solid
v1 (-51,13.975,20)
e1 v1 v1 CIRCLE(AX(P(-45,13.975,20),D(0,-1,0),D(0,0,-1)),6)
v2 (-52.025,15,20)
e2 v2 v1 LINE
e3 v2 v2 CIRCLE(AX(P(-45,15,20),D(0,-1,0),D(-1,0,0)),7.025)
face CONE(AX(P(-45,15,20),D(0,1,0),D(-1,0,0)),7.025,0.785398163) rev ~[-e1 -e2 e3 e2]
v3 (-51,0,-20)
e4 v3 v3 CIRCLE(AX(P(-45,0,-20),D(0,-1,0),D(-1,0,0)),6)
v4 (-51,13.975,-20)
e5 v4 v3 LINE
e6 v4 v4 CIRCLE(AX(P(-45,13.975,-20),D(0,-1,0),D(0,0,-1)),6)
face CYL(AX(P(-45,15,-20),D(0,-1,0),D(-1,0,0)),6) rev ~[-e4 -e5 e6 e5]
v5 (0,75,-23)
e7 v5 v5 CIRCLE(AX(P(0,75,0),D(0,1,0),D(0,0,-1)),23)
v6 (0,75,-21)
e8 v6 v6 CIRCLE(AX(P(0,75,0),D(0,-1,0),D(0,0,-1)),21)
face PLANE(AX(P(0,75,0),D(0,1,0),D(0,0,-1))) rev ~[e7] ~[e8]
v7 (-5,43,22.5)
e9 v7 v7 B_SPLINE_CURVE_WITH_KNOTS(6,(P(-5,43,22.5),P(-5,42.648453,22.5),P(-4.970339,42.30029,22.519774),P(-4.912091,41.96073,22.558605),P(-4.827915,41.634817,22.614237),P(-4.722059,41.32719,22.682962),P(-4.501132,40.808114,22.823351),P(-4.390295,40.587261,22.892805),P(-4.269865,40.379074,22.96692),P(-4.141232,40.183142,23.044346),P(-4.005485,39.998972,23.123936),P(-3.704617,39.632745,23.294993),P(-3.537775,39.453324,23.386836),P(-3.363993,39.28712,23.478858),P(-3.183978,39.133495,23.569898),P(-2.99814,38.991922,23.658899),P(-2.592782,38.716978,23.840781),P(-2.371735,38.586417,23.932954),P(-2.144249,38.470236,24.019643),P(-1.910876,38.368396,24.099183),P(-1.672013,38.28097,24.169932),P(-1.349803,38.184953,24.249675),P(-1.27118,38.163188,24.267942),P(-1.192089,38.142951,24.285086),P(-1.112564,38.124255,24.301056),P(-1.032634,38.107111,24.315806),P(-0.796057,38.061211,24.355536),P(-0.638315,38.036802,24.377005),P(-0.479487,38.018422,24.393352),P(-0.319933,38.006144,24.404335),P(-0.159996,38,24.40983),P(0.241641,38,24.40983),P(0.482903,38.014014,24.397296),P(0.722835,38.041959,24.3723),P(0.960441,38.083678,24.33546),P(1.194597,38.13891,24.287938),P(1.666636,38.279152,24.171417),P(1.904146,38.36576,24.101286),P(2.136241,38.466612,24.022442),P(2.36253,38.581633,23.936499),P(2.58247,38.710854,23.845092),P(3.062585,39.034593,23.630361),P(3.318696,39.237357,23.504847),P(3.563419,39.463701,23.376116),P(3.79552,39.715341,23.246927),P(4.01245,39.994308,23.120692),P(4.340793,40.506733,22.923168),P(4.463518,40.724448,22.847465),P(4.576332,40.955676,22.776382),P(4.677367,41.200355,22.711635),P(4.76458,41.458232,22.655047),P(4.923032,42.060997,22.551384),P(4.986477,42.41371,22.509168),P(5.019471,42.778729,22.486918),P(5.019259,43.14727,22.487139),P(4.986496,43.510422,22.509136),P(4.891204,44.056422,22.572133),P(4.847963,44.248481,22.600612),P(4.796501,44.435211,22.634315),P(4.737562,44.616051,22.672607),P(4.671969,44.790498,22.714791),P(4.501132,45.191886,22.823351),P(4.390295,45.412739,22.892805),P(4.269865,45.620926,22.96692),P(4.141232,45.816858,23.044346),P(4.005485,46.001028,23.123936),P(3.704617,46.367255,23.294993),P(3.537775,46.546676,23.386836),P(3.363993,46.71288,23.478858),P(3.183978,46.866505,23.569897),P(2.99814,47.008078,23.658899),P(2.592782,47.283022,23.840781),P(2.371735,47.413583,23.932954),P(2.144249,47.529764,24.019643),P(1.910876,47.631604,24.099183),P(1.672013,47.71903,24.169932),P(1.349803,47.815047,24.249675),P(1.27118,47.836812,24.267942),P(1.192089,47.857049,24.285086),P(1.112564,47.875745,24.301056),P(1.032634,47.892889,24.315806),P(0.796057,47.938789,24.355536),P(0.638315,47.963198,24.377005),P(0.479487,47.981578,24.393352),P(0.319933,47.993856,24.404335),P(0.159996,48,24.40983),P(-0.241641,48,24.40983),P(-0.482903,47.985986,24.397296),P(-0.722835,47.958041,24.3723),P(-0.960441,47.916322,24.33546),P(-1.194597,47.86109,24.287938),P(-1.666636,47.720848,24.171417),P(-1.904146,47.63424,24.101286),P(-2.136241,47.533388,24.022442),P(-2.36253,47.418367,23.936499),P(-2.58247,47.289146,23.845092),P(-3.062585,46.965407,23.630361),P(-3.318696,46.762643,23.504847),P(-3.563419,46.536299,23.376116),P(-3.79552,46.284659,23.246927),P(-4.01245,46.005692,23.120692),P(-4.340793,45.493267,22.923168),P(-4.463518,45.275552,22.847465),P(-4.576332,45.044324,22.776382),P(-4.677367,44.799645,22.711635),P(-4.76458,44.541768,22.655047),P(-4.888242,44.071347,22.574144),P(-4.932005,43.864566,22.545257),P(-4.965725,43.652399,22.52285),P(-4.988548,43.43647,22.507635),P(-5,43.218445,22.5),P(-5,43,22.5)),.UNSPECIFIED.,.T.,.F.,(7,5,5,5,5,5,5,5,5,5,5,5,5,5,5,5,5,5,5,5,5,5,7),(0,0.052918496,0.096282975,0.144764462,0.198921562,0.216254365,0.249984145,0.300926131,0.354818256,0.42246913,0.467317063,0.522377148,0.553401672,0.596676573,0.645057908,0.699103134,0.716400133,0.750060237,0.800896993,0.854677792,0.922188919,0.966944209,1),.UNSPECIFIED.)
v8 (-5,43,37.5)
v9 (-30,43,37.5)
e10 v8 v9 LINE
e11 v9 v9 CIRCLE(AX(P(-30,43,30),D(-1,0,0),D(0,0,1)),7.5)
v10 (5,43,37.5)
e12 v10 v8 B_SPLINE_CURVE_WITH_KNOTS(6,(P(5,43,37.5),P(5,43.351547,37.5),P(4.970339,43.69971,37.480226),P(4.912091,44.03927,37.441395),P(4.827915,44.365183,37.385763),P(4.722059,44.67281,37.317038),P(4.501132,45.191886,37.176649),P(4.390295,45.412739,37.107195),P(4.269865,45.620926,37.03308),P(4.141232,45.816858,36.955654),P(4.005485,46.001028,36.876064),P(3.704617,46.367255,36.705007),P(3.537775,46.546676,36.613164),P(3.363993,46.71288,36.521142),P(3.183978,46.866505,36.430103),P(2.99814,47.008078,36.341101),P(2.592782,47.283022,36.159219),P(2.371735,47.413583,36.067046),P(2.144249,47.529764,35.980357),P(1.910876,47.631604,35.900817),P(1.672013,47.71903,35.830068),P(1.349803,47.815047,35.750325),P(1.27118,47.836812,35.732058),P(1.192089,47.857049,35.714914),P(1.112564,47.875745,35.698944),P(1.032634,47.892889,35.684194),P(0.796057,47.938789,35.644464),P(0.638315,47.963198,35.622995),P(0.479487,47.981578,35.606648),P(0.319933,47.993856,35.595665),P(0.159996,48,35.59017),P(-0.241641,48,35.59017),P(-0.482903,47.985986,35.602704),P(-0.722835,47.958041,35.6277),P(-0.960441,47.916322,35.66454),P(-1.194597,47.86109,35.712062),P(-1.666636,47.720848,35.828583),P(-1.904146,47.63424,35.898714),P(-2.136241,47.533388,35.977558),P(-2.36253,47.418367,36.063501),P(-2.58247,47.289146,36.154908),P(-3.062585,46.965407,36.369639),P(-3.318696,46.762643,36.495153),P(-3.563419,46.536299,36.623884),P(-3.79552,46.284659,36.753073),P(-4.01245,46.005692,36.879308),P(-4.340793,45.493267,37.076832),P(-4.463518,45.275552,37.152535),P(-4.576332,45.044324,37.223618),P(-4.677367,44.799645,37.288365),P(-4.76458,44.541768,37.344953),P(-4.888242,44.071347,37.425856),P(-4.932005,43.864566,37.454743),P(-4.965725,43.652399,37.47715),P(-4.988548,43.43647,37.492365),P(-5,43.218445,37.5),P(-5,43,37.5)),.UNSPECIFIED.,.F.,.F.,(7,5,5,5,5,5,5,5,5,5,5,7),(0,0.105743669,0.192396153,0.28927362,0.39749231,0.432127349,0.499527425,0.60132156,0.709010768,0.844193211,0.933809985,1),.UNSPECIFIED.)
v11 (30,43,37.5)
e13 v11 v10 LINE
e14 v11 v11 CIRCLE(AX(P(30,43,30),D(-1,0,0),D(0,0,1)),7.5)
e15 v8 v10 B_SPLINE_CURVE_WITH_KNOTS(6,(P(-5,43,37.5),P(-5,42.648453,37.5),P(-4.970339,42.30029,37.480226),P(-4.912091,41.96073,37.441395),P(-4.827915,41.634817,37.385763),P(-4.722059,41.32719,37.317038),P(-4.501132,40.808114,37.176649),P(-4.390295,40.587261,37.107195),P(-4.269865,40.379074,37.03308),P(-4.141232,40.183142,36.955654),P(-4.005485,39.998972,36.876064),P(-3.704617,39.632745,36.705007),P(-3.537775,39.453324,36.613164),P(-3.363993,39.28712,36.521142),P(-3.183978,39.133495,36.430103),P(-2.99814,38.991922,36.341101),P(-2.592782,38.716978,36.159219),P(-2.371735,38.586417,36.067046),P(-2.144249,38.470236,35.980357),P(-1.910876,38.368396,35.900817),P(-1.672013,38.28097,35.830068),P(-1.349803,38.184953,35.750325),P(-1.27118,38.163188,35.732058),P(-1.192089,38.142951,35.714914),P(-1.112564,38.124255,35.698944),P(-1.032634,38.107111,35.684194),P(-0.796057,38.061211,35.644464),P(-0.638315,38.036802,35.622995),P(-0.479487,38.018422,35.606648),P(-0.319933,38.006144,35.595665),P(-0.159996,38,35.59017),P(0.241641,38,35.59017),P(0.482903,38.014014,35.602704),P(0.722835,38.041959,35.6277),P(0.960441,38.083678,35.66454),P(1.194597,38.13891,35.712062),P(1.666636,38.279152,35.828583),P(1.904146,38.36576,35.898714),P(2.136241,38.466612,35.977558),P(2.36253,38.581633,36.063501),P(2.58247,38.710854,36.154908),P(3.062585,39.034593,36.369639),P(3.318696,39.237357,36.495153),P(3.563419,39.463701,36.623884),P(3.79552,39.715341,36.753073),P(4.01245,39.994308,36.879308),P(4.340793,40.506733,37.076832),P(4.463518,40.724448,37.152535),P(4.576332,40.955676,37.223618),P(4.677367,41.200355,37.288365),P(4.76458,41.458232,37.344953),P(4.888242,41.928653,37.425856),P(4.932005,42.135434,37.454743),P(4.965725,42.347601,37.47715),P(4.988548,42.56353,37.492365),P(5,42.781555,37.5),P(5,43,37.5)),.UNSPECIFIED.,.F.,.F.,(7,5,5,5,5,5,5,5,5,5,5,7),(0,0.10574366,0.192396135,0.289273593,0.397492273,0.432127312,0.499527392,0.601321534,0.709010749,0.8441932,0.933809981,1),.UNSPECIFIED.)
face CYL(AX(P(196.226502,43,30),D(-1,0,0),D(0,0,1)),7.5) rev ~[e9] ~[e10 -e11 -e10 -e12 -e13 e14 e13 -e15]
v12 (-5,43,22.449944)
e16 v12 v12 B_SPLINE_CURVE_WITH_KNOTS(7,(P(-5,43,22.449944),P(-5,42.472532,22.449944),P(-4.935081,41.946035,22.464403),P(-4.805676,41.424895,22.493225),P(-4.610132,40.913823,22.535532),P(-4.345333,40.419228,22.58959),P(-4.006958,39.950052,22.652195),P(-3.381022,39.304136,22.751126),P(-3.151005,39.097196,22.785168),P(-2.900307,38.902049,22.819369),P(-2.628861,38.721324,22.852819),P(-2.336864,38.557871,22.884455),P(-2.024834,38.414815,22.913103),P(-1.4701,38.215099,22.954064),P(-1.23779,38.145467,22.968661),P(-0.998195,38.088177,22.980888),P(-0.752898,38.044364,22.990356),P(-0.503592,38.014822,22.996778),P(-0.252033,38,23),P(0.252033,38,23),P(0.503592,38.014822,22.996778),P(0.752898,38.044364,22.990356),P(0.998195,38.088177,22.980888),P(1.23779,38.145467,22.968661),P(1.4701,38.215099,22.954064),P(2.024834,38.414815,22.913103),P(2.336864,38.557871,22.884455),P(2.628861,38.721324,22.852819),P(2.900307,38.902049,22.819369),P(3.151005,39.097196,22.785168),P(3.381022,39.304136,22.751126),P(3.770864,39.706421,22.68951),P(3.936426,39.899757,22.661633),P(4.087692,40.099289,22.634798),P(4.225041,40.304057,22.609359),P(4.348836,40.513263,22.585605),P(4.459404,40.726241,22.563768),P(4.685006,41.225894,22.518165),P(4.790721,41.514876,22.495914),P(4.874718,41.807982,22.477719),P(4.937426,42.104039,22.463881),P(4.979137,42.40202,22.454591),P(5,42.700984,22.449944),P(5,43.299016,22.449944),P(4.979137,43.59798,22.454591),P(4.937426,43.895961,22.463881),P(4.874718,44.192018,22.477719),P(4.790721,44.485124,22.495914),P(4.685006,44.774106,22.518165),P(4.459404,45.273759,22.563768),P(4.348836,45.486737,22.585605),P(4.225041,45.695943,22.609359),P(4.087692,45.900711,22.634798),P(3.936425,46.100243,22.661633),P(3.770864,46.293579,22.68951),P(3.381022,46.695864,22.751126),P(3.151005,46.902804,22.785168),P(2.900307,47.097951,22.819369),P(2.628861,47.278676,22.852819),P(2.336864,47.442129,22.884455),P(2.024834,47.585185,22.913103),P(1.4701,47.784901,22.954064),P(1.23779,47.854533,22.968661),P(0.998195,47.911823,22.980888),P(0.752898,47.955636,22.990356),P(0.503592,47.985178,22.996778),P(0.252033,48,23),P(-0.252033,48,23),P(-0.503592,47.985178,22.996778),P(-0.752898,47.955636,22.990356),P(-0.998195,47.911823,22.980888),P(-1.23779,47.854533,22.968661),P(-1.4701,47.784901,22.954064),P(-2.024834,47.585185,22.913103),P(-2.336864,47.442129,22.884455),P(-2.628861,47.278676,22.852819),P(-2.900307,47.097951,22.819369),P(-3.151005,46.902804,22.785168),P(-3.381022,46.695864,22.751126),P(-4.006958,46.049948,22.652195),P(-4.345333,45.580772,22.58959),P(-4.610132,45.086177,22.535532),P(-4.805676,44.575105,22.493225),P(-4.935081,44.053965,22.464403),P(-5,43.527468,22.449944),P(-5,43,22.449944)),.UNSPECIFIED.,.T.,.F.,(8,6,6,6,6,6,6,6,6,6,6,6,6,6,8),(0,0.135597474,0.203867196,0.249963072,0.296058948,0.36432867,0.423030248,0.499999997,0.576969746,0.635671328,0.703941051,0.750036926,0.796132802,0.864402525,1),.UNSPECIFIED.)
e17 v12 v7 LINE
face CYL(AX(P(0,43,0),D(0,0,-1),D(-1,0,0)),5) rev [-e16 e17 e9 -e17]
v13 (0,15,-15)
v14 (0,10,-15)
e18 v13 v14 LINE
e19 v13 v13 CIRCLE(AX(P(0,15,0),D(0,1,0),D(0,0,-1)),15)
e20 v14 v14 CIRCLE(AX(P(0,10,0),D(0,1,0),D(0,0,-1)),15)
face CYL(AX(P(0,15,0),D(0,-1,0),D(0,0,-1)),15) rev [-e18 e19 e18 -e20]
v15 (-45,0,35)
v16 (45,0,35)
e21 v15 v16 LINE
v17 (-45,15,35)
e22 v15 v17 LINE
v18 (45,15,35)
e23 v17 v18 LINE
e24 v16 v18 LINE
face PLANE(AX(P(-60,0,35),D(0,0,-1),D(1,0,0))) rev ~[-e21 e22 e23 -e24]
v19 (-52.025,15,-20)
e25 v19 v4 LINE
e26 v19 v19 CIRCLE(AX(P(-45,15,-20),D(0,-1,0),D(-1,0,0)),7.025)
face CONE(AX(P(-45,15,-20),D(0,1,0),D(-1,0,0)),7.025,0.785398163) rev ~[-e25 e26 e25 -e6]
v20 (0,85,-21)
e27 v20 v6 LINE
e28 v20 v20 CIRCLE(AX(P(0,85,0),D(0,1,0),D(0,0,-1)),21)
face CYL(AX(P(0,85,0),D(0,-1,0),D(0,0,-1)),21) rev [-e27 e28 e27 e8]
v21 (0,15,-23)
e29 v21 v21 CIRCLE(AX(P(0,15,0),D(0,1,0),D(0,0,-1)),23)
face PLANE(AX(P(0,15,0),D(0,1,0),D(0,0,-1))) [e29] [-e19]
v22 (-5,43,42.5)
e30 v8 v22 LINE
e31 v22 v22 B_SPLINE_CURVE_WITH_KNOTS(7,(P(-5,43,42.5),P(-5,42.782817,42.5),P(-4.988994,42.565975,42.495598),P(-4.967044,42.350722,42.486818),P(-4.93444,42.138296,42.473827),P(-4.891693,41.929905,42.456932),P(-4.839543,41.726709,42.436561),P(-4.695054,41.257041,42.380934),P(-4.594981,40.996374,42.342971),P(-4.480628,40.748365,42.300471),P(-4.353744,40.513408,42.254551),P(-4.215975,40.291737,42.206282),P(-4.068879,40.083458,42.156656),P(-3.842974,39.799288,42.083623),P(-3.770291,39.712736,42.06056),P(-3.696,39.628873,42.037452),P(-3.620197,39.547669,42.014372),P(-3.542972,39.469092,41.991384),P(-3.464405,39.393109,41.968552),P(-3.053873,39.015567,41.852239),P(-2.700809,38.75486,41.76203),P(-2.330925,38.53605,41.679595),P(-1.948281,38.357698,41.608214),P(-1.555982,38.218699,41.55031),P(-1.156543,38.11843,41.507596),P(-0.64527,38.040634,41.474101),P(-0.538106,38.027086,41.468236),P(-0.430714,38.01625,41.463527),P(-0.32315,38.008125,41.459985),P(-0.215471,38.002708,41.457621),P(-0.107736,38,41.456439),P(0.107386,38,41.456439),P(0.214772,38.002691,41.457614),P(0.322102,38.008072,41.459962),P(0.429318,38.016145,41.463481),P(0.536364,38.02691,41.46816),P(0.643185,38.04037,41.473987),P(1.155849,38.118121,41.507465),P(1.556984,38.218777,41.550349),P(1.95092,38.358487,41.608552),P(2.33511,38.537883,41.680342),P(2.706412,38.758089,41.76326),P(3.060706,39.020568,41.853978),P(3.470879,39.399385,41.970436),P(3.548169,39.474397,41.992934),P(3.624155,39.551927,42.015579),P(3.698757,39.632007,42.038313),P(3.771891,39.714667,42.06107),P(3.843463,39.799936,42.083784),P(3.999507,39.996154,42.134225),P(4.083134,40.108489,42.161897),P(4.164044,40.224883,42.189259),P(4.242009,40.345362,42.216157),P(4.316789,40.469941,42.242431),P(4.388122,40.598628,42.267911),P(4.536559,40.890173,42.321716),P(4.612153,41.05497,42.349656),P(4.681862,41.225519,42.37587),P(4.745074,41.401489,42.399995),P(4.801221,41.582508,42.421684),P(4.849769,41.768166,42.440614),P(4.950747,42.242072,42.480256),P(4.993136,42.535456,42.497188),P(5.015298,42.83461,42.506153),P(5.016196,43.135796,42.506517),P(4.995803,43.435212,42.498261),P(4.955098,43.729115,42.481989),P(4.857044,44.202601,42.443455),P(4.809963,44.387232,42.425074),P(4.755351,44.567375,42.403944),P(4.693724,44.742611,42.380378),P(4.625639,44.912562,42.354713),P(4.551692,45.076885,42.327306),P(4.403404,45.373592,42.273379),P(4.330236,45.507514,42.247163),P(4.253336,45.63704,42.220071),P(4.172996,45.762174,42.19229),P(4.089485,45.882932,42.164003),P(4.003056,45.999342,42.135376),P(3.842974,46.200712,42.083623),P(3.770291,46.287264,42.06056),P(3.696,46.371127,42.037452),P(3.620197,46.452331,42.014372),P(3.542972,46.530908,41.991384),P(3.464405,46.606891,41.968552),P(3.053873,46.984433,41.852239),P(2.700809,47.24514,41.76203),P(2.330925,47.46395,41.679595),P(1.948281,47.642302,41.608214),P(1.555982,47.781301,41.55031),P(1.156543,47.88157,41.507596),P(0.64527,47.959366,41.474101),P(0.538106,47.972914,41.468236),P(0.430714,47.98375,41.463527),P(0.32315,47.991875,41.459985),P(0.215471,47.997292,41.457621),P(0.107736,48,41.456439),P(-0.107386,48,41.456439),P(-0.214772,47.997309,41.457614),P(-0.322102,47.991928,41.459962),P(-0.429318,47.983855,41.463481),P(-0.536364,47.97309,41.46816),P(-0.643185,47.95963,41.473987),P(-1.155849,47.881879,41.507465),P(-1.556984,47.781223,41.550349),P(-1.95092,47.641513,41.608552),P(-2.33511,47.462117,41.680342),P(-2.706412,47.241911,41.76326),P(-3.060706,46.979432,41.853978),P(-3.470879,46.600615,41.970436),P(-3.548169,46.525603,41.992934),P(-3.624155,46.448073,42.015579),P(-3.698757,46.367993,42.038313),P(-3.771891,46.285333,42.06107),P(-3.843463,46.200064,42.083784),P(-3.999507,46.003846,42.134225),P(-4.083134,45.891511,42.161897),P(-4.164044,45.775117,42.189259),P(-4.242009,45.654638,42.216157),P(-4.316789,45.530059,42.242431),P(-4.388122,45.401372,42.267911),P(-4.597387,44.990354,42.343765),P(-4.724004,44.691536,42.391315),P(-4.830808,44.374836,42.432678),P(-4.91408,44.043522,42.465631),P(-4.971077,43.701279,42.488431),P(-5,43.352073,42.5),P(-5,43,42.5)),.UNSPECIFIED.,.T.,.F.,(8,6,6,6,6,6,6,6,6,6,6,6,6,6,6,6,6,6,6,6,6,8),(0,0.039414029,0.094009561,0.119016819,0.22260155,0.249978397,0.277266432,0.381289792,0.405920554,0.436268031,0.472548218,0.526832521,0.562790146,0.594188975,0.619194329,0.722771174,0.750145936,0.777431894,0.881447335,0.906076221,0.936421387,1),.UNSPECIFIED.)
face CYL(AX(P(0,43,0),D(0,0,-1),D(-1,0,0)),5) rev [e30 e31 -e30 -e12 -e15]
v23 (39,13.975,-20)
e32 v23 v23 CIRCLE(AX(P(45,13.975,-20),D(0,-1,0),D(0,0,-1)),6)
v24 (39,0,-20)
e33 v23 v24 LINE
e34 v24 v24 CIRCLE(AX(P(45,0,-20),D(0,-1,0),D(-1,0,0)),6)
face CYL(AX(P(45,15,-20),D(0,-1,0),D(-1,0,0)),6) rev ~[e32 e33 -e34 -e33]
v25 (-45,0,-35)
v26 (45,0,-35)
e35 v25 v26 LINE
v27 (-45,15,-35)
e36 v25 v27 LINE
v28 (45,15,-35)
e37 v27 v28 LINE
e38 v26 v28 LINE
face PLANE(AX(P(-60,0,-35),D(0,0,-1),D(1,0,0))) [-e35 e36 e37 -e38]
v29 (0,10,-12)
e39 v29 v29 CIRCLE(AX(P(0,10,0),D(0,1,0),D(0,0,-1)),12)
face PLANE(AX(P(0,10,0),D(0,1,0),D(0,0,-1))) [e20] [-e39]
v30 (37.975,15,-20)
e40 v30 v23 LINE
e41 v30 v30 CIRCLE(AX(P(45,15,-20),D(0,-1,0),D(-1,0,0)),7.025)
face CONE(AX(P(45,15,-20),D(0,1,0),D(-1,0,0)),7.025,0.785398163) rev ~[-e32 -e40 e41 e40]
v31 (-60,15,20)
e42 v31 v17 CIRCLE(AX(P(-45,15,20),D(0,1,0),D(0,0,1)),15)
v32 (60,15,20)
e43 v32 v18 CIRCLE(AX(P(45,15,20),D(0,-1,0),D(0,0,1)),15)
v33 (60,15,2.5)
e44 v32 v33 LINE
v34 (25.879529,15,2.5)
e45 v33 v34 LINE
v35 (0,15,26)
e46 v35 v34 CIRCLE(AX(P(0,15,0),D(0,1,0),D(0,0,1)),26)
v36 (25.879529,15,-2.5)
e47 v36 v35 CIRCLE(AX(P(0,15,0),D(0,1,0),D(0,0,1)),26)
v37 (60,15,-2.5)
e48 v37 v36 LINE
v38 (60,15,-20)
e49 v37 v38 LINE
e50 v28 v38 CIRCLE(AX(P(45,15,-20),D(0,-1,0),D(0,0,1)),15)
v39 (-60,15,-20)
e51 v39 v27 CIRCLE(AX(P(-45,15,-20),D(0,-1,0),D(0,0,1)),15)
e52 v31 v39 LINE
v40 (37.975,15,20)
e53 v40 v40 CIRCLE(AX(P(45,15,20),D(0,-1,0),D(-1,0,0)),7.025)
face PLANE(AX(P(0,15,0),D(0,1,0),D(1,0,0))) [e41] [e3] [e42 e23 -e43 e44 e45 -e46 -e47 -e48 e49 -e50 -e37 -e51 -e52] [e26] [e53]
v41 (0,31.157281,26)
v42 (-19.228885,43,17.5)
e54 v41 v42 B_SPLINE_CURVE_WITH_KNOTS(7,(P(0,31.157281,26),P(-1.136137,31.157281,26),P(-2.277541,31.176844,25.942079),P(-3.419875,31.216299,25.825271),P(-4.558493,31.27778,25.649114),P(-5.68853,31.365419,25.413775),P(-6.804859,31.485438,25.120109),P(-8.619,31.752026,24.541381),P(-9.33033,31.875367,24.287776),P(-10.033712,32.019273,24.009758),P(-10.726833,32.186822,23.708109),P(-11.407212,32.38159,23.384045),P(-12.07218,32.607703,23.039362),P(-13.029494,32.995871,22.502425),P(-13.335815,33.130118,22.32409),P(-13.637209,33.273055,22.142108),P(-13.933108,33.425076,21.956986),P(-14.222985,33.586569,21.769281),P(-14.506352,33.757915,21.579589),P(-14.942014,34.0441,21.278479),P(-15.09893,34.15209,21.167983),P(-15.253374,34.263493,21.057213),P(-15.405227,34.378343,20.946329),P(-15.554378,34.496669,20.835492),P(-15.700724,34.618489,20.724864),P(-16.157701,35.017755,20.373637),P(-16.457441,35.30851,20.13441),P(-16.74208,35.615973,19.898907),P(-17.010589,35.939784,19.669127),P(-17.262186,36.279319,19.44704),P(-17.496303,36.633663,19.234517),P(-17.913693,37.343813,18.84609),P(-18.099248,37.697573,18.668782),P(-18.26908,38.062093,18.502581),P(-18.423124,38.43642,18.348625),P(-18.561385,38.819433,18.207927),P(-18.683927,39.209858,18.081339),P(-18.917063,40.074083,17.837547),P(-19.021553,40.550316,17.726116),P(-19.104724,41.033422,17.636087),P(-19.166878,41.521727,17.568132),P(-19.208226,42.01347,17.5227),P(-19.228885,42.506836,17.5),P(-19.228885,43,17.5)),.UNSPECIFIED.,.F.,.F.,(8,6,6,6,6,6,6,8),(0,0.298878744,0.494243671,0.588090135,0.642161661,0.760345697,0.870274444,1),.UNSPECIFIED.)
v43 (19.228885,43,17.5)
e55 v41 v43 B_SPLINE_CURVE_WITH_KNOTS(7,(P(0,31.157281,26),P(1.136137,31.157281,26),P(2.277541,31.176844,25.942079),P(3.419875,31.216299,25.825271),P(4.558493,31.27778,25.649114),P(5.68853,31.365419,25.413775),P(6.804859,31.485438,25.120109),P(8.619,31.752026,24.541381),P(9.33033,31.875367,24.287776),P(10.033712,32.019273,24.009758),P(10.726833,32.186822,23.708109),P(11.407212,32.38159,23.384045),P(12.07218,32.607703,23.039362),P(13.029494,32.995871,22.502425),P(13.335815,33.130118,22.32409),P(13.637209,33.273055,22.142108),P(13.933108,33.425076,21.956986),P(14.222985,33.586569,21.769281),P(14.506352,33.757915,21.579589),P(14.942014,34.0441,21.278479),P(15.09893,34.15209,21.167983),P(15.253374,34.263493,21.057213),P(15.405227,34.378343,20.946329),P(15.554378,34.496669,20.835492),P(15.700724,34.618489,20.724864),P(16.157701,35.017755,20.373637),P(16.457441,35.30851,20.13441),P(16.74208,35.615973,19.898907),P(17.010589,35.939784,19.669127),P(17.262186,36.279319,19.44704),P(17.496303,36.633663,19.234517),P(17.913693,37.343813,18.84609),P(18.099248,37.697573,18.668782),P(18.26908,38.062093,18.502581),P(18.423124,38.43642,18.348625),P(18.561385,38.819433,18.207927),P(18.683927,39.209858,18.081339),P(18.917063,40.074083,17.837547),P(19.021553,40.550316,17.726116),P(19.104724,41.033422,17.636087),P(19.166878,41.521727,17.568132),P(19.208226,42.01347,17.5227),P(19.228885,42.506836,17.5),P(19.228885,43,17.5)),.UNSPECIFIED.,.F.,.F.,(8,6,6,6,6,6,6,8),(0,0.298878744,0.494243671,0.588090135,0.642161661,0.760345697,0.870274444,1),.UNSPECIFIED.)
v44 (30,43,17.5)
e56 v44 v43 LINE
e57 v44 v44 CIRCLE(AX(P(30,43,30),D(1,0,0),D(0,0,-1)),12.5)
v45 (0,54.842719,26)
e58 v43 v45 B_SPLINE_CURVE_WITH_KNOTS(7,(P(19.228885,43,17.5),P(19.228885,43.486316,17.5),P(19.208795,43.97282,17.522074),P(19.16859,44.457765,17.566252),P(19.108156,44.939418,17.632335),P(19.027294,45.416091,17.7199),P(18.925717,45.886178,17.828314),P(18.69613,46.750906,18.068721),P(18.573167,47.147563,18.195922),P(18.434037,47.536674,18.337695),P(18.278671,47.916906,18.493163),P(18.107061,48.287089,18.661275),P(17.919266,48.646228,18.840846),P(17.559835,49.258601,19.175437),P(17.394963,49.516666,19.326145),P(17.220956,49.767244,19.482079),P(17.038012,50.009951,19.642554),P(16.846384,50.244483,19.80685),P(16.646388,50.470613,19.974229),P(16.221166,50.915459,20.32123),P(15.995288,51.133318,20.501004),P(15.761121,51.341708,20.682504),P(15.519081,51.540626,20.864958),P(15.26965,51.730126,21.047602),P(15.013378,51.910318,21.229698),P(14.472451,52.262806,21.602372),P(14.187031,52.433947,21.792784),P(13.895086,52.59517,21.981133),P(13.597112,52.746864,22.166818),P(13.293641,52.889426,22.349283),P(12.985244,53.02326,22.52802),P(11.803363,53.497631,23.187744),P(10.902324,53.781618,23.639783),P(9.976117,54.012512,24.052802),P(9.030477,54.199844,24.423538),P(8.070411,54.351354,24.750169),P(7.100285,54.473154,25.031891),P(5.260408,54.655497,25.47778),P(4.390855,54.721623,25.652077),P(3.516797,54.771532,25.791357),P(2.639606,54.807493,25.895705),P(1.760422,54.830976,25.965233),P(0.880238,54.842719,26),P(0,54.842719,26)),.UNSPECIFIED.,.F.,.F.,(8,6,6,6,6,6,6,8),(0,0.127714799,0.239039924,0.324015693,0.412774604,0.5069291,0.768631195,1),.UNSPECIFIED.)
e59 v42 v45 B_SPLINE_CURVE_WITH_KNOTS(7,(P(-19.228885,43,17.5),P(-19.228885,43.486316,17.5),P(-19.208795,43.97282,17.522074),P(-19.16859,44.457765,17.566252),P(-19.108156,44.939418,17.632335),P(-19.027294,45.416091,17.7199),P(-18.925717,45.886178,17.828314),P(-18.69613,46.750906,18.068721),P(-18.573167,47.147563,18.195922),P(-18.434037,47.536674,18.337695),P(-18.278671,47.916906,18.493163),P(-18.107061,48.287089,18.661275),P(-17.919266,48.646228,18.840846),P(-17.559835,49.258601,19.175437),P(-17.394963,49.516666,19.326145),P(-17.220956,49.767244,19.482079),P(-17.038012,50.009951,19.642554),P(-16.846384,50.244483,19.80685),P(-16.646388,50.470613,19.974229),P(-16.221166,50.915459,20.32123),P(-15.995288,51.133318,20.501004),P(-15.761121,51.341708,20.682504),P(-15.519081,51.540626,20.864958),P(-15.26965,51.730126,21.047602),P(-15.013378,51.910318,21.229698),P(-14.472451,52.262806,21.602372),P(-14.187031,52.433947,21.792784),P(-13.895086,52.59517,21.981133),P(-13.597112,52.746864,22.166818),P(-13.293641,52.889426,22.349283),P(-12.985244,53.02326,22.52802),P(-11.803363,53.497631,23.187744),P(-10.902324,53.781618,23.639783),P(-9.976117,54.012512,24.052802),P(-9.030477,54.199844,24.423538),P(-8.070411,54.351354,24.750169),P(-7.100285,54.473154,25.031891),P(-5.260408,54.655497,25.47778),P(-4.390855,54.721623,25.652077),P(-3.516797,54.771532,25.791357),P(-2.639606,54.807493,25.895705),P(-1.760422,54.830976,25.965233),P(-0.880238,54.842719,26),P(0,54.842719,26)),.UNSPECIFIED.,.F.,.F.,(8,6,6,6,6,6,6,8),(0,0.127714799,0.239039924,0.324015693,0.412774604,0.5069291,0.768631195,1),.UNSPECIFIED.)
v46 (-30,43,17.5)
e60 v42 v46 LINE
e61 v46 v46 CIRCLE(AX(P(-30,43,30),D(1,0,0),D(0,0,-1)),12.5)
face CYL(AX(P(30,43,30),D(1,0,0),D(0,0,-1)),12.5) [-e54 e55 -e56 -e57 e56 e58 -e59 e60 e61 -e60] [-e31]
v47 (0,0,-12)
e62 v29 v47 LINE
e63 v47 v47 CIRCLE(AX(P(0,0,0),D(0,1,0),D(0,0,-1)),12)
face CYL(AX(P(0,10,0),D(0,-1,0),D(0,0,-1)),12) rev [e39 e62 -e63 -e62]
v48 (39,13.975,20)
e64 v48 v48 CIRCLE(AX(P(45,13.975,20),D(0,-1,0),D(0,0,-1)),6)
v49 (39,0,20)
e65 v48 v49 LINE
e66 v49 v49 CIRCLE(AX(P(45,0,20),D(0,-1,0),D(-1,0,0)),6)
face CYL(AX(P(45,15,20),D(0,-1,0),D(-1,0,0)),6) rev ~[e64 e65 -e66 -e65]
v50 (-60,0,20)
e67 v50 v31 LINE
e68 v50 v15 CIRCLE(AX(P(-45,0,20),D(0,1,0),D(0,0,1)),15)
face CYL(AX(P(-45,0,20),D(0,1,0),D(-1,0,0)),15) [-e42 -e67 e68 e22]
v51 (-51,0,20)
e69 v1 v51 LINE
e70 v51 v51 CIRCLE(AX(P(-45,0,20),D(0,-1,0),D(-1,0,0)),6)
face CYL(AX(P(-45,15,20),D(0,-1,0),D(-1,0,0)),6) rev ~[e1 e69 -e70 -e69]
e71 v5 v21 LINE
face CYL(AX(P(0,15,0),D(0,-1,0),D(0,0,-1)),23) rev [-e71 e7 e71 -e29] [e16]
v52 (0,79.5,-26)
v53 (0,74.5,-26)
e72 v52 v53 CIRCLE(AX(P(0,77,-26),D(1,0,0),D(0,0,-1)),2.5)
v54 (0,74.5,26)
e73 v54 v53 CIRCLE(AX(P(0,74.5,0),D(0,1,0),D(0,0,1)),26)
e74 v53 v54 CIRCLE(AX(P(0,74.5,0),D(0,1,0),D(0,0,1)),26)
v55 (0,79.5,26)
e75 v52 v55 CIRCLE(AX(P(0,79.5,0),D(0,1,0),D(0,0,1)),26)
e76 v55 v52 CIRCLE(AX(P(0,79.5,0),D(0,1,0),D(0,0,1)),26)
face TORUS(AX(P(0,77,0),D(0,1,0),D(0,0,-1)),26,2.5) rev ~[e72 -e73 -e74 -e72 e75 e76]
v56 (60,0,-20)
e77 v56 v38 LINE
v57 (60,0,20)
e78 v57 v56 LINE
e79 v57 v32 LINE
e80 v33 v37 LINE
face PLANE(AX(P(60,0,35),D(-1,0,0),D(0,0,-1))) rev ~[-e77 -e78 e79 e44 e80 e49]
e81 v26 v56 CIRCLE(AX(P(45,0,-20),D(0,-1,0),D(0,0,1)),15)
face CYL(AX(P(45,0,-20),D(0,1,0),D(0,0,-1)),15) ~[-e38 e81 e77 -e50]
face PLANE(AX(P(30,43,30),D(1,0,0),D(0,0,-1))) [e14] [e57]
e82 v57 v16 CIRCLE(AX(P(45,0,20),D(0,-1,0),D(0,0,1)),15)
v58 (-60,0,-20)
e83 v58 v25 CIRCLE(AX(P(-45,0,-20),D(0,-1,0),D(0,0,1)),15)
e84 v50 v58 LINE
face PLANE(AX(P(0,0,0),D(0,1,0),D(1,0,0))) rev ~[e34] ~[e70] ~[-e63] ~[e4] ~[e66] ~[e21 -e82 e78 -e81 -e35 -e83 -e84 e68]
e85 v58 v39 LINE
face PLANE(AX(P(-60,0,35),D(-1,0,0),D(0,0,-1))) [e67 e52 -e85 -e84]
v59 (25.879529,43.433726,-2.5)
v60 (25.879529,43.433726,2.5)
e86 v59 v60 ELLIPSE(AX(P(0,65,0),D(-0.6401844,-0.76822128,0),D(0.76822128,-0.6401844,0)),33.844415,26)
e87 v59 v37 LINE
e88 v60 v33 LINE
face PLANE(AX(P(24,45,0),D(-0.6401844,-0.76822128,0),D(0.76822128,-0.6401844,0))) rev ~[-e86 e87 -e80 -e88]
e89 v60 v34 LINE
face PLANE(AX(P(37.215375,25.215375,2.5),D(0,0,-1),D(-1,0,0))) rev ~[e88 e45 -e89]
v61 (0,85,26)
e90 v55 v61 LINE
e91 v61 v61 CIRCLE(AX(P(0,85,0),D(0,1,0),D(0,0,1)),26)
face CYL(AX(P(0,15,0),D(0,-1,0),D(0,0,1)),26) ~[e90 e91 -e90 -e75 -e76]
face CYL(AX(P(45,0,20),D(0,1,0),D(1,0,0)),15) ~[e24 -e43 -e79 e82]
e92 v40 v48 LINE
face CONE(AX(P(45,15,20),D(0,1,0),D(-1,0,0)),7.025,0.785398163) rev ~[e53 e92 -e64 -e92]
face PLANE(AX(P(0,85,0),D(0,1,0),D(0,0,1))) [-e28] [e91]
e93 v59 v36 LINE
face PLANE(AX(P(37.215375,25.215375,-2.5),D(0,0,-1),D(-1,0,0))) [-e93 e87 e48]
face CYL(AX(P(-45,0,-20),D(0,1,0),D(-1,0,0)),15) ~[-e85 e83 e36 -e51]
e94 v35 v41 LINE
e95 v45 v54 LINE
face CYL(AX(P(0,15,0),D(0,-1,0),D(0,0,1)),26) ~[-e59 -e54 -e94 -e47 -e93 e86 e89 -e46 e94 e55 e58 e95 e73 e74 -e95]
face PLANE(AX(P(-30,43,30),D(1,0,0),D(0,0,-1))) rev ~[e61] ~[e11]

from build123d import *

# Parameters (mm, degrees)
SKETCH1_W                    = 120
SKETCH1_H                    = 70
BOSS_EXTRUDE1_DEPTH          = 15
SKETCH2_R                    = 26
BOSS_EXTRUDE2_DEPTH          = 70
SKETCH8_R                    = 2.5
BOSS_EXTRUDE3_DEPTH          = 2.5
SKETCH10_R                   = 12.5
BOSS_EXTRUDE4_DEPTH          = 60
SKETCH11_R                   = 23
CUT_EXTRUDE1_DEPTH           = 60
HOLE2_D                      = 15
SKETCH14_R                   = 5
CUT_EXTRUDE2_DEPTH           = 60
FILLET1_R                    = 15
M14_TAPPED_HOLE1_D           = 12
M14_TAPPED_HOLE1_CSINK_D     = 14.05
M14_TAPPED_HOLE1_CSINK_ANGLE = 90


with BuildPart() as part:
    # Sketch1 → Boss-Extrude1 (new body)
    with BuildSketch(Plane(origin=(0, 0, 0), x_dir=(1, 0, 0), z_dir=(0, 1, 0))):
        Rectangle(SKETCH1_W, SKETCH1_H)
    extrude(amount=BOSS_EXTRUDE1_DEPTH)

    # Sketch2 → Boss-Extrude2 (add)
    with BuildSketch(Plane(origin=(0, 15, 0), x_dir=(1, 0, 0), z_dir=(0, 1, 0))):
        with Locations(Location((0, 0, 0), (0, 0, 270))):
            Circle(SKETCH2_R)
    extrude(amount=BOSS_EXTRUDE2_DEPTH)

    # Sketch7 → Cut-Revolve2 (revolve, cut)
    with BuildSketch(Plane.XY, mode=Mode.PRIVATE) as cut_revolve2_sk:
        Polygon((0, 0), (0, 85), (21, 85), (21, 65), (23, 65), (23, 15), (15, 15), (15, 10), (12, 10), (12, 0), align=None)
    revolve(cut_revolve2_sk.sketch.rotate(Axis((0, 0, 0), (0, 1, 0)), 90), axis=Axis((0, 0, 0), (0, 1, 0)), mode=Mode.SUBTRACT)

    # Sketch8 → Cut-Revolve3 (revolve, cut)
    with BuildSketch(Plane.XY, mode=Mode.PRIVATE) as cut_revolve3_sk:
        with Locations((26, 77)):
            Circle(SKETCH8_R)
    revolve(cut_revolve3_sk.sketch.rotate(Axis((0, 0, 0), (0, 1, 0)), 90), axis=Axis((0, 0, 0), (0, 1, 0)), mode=Mode.SUBTRACT)

    # Sketch9 → Boss-Extrude3 (add, symmetric)
    with BuildSketch(Plane.XY):
        Polygon((24, 45), (60, 15), (24, 15), align=None)
    extrude(amount=BOSS_EXTRUDE3_DEPTH, both=True)

    # Sketch10 → Boss-Extrude4 (add)
    with BuildSketch(Plane(origin=(30, 0, 0), x_dir=(0, 0, -1), z_dir=(1, 0, 0))):
        with Locations((-30, 43)):
            Circle(SKETCH10_R)
    extrude(amount=-BOSS_EXTRUDE4_DEPTH)

    # Sketch11 → Cut-Extrude1 (cut)
    with BuildSketch(Plane(origin=(0, 15, 0), x_dir=(1, 0, 0), z_dir=(0, 1, 0))):
        with Locations(Location((0, 0, 0), (0, 0, 90))):
            Circle(SKETCH11_R)
    extrude(amount=CUT_EXTRUDE1_DEPTH, mode=Mode.SUBTRACT)

    # Hole2 (through all)
    with Locations(Plane(origin=(30, 0, 0), x_dir=(0, 0, -1), z_dir=(1, 0, 0))):
        with Locations((-30, 43)):
            Hole(HOLE2_D / 2)

    # Sketch14 → Cut-Extrude2 (cut)
    with BuildSketch(Plane.XY):
        with Locations(Location((0, 43, 0), (0, 0, 180))):
            Circle(SKETCH14_R)
    extrude(amount=CUT_EXTRUDE2_DEPTH, mode=Mode.SUBTRACT)

    # Fillet1
    fillet1_edges = [part.edges().sort_by_distance(p)[0] for p in [
        (-60, 7.5, -35),
        (60, 7.5, -35),
        (60, 7.5, 35),
        (-60, 7.5, 35),
    ]]
    fillet(fillet1_edges, radius=FILLET1_R)

    # M14 Tapped Hole1 (through all)
    with Locations(Plane(origin=(0, 15, 0), x_dir=(1, 0, 0), z_dir=(0, 1, 0))):
        with Locations((45, -20), (45, 20), (-45, 20), (-45, -20)):
            CounterSinkHole(M14_TAPPED_HOLE1_D / 2, M14_TAPPED_HOLE1_CSINK_D / 2, counter_sink_angle=M14_TAPPED_HOLE1_CSINK_ANGLE)


solid = part.part
